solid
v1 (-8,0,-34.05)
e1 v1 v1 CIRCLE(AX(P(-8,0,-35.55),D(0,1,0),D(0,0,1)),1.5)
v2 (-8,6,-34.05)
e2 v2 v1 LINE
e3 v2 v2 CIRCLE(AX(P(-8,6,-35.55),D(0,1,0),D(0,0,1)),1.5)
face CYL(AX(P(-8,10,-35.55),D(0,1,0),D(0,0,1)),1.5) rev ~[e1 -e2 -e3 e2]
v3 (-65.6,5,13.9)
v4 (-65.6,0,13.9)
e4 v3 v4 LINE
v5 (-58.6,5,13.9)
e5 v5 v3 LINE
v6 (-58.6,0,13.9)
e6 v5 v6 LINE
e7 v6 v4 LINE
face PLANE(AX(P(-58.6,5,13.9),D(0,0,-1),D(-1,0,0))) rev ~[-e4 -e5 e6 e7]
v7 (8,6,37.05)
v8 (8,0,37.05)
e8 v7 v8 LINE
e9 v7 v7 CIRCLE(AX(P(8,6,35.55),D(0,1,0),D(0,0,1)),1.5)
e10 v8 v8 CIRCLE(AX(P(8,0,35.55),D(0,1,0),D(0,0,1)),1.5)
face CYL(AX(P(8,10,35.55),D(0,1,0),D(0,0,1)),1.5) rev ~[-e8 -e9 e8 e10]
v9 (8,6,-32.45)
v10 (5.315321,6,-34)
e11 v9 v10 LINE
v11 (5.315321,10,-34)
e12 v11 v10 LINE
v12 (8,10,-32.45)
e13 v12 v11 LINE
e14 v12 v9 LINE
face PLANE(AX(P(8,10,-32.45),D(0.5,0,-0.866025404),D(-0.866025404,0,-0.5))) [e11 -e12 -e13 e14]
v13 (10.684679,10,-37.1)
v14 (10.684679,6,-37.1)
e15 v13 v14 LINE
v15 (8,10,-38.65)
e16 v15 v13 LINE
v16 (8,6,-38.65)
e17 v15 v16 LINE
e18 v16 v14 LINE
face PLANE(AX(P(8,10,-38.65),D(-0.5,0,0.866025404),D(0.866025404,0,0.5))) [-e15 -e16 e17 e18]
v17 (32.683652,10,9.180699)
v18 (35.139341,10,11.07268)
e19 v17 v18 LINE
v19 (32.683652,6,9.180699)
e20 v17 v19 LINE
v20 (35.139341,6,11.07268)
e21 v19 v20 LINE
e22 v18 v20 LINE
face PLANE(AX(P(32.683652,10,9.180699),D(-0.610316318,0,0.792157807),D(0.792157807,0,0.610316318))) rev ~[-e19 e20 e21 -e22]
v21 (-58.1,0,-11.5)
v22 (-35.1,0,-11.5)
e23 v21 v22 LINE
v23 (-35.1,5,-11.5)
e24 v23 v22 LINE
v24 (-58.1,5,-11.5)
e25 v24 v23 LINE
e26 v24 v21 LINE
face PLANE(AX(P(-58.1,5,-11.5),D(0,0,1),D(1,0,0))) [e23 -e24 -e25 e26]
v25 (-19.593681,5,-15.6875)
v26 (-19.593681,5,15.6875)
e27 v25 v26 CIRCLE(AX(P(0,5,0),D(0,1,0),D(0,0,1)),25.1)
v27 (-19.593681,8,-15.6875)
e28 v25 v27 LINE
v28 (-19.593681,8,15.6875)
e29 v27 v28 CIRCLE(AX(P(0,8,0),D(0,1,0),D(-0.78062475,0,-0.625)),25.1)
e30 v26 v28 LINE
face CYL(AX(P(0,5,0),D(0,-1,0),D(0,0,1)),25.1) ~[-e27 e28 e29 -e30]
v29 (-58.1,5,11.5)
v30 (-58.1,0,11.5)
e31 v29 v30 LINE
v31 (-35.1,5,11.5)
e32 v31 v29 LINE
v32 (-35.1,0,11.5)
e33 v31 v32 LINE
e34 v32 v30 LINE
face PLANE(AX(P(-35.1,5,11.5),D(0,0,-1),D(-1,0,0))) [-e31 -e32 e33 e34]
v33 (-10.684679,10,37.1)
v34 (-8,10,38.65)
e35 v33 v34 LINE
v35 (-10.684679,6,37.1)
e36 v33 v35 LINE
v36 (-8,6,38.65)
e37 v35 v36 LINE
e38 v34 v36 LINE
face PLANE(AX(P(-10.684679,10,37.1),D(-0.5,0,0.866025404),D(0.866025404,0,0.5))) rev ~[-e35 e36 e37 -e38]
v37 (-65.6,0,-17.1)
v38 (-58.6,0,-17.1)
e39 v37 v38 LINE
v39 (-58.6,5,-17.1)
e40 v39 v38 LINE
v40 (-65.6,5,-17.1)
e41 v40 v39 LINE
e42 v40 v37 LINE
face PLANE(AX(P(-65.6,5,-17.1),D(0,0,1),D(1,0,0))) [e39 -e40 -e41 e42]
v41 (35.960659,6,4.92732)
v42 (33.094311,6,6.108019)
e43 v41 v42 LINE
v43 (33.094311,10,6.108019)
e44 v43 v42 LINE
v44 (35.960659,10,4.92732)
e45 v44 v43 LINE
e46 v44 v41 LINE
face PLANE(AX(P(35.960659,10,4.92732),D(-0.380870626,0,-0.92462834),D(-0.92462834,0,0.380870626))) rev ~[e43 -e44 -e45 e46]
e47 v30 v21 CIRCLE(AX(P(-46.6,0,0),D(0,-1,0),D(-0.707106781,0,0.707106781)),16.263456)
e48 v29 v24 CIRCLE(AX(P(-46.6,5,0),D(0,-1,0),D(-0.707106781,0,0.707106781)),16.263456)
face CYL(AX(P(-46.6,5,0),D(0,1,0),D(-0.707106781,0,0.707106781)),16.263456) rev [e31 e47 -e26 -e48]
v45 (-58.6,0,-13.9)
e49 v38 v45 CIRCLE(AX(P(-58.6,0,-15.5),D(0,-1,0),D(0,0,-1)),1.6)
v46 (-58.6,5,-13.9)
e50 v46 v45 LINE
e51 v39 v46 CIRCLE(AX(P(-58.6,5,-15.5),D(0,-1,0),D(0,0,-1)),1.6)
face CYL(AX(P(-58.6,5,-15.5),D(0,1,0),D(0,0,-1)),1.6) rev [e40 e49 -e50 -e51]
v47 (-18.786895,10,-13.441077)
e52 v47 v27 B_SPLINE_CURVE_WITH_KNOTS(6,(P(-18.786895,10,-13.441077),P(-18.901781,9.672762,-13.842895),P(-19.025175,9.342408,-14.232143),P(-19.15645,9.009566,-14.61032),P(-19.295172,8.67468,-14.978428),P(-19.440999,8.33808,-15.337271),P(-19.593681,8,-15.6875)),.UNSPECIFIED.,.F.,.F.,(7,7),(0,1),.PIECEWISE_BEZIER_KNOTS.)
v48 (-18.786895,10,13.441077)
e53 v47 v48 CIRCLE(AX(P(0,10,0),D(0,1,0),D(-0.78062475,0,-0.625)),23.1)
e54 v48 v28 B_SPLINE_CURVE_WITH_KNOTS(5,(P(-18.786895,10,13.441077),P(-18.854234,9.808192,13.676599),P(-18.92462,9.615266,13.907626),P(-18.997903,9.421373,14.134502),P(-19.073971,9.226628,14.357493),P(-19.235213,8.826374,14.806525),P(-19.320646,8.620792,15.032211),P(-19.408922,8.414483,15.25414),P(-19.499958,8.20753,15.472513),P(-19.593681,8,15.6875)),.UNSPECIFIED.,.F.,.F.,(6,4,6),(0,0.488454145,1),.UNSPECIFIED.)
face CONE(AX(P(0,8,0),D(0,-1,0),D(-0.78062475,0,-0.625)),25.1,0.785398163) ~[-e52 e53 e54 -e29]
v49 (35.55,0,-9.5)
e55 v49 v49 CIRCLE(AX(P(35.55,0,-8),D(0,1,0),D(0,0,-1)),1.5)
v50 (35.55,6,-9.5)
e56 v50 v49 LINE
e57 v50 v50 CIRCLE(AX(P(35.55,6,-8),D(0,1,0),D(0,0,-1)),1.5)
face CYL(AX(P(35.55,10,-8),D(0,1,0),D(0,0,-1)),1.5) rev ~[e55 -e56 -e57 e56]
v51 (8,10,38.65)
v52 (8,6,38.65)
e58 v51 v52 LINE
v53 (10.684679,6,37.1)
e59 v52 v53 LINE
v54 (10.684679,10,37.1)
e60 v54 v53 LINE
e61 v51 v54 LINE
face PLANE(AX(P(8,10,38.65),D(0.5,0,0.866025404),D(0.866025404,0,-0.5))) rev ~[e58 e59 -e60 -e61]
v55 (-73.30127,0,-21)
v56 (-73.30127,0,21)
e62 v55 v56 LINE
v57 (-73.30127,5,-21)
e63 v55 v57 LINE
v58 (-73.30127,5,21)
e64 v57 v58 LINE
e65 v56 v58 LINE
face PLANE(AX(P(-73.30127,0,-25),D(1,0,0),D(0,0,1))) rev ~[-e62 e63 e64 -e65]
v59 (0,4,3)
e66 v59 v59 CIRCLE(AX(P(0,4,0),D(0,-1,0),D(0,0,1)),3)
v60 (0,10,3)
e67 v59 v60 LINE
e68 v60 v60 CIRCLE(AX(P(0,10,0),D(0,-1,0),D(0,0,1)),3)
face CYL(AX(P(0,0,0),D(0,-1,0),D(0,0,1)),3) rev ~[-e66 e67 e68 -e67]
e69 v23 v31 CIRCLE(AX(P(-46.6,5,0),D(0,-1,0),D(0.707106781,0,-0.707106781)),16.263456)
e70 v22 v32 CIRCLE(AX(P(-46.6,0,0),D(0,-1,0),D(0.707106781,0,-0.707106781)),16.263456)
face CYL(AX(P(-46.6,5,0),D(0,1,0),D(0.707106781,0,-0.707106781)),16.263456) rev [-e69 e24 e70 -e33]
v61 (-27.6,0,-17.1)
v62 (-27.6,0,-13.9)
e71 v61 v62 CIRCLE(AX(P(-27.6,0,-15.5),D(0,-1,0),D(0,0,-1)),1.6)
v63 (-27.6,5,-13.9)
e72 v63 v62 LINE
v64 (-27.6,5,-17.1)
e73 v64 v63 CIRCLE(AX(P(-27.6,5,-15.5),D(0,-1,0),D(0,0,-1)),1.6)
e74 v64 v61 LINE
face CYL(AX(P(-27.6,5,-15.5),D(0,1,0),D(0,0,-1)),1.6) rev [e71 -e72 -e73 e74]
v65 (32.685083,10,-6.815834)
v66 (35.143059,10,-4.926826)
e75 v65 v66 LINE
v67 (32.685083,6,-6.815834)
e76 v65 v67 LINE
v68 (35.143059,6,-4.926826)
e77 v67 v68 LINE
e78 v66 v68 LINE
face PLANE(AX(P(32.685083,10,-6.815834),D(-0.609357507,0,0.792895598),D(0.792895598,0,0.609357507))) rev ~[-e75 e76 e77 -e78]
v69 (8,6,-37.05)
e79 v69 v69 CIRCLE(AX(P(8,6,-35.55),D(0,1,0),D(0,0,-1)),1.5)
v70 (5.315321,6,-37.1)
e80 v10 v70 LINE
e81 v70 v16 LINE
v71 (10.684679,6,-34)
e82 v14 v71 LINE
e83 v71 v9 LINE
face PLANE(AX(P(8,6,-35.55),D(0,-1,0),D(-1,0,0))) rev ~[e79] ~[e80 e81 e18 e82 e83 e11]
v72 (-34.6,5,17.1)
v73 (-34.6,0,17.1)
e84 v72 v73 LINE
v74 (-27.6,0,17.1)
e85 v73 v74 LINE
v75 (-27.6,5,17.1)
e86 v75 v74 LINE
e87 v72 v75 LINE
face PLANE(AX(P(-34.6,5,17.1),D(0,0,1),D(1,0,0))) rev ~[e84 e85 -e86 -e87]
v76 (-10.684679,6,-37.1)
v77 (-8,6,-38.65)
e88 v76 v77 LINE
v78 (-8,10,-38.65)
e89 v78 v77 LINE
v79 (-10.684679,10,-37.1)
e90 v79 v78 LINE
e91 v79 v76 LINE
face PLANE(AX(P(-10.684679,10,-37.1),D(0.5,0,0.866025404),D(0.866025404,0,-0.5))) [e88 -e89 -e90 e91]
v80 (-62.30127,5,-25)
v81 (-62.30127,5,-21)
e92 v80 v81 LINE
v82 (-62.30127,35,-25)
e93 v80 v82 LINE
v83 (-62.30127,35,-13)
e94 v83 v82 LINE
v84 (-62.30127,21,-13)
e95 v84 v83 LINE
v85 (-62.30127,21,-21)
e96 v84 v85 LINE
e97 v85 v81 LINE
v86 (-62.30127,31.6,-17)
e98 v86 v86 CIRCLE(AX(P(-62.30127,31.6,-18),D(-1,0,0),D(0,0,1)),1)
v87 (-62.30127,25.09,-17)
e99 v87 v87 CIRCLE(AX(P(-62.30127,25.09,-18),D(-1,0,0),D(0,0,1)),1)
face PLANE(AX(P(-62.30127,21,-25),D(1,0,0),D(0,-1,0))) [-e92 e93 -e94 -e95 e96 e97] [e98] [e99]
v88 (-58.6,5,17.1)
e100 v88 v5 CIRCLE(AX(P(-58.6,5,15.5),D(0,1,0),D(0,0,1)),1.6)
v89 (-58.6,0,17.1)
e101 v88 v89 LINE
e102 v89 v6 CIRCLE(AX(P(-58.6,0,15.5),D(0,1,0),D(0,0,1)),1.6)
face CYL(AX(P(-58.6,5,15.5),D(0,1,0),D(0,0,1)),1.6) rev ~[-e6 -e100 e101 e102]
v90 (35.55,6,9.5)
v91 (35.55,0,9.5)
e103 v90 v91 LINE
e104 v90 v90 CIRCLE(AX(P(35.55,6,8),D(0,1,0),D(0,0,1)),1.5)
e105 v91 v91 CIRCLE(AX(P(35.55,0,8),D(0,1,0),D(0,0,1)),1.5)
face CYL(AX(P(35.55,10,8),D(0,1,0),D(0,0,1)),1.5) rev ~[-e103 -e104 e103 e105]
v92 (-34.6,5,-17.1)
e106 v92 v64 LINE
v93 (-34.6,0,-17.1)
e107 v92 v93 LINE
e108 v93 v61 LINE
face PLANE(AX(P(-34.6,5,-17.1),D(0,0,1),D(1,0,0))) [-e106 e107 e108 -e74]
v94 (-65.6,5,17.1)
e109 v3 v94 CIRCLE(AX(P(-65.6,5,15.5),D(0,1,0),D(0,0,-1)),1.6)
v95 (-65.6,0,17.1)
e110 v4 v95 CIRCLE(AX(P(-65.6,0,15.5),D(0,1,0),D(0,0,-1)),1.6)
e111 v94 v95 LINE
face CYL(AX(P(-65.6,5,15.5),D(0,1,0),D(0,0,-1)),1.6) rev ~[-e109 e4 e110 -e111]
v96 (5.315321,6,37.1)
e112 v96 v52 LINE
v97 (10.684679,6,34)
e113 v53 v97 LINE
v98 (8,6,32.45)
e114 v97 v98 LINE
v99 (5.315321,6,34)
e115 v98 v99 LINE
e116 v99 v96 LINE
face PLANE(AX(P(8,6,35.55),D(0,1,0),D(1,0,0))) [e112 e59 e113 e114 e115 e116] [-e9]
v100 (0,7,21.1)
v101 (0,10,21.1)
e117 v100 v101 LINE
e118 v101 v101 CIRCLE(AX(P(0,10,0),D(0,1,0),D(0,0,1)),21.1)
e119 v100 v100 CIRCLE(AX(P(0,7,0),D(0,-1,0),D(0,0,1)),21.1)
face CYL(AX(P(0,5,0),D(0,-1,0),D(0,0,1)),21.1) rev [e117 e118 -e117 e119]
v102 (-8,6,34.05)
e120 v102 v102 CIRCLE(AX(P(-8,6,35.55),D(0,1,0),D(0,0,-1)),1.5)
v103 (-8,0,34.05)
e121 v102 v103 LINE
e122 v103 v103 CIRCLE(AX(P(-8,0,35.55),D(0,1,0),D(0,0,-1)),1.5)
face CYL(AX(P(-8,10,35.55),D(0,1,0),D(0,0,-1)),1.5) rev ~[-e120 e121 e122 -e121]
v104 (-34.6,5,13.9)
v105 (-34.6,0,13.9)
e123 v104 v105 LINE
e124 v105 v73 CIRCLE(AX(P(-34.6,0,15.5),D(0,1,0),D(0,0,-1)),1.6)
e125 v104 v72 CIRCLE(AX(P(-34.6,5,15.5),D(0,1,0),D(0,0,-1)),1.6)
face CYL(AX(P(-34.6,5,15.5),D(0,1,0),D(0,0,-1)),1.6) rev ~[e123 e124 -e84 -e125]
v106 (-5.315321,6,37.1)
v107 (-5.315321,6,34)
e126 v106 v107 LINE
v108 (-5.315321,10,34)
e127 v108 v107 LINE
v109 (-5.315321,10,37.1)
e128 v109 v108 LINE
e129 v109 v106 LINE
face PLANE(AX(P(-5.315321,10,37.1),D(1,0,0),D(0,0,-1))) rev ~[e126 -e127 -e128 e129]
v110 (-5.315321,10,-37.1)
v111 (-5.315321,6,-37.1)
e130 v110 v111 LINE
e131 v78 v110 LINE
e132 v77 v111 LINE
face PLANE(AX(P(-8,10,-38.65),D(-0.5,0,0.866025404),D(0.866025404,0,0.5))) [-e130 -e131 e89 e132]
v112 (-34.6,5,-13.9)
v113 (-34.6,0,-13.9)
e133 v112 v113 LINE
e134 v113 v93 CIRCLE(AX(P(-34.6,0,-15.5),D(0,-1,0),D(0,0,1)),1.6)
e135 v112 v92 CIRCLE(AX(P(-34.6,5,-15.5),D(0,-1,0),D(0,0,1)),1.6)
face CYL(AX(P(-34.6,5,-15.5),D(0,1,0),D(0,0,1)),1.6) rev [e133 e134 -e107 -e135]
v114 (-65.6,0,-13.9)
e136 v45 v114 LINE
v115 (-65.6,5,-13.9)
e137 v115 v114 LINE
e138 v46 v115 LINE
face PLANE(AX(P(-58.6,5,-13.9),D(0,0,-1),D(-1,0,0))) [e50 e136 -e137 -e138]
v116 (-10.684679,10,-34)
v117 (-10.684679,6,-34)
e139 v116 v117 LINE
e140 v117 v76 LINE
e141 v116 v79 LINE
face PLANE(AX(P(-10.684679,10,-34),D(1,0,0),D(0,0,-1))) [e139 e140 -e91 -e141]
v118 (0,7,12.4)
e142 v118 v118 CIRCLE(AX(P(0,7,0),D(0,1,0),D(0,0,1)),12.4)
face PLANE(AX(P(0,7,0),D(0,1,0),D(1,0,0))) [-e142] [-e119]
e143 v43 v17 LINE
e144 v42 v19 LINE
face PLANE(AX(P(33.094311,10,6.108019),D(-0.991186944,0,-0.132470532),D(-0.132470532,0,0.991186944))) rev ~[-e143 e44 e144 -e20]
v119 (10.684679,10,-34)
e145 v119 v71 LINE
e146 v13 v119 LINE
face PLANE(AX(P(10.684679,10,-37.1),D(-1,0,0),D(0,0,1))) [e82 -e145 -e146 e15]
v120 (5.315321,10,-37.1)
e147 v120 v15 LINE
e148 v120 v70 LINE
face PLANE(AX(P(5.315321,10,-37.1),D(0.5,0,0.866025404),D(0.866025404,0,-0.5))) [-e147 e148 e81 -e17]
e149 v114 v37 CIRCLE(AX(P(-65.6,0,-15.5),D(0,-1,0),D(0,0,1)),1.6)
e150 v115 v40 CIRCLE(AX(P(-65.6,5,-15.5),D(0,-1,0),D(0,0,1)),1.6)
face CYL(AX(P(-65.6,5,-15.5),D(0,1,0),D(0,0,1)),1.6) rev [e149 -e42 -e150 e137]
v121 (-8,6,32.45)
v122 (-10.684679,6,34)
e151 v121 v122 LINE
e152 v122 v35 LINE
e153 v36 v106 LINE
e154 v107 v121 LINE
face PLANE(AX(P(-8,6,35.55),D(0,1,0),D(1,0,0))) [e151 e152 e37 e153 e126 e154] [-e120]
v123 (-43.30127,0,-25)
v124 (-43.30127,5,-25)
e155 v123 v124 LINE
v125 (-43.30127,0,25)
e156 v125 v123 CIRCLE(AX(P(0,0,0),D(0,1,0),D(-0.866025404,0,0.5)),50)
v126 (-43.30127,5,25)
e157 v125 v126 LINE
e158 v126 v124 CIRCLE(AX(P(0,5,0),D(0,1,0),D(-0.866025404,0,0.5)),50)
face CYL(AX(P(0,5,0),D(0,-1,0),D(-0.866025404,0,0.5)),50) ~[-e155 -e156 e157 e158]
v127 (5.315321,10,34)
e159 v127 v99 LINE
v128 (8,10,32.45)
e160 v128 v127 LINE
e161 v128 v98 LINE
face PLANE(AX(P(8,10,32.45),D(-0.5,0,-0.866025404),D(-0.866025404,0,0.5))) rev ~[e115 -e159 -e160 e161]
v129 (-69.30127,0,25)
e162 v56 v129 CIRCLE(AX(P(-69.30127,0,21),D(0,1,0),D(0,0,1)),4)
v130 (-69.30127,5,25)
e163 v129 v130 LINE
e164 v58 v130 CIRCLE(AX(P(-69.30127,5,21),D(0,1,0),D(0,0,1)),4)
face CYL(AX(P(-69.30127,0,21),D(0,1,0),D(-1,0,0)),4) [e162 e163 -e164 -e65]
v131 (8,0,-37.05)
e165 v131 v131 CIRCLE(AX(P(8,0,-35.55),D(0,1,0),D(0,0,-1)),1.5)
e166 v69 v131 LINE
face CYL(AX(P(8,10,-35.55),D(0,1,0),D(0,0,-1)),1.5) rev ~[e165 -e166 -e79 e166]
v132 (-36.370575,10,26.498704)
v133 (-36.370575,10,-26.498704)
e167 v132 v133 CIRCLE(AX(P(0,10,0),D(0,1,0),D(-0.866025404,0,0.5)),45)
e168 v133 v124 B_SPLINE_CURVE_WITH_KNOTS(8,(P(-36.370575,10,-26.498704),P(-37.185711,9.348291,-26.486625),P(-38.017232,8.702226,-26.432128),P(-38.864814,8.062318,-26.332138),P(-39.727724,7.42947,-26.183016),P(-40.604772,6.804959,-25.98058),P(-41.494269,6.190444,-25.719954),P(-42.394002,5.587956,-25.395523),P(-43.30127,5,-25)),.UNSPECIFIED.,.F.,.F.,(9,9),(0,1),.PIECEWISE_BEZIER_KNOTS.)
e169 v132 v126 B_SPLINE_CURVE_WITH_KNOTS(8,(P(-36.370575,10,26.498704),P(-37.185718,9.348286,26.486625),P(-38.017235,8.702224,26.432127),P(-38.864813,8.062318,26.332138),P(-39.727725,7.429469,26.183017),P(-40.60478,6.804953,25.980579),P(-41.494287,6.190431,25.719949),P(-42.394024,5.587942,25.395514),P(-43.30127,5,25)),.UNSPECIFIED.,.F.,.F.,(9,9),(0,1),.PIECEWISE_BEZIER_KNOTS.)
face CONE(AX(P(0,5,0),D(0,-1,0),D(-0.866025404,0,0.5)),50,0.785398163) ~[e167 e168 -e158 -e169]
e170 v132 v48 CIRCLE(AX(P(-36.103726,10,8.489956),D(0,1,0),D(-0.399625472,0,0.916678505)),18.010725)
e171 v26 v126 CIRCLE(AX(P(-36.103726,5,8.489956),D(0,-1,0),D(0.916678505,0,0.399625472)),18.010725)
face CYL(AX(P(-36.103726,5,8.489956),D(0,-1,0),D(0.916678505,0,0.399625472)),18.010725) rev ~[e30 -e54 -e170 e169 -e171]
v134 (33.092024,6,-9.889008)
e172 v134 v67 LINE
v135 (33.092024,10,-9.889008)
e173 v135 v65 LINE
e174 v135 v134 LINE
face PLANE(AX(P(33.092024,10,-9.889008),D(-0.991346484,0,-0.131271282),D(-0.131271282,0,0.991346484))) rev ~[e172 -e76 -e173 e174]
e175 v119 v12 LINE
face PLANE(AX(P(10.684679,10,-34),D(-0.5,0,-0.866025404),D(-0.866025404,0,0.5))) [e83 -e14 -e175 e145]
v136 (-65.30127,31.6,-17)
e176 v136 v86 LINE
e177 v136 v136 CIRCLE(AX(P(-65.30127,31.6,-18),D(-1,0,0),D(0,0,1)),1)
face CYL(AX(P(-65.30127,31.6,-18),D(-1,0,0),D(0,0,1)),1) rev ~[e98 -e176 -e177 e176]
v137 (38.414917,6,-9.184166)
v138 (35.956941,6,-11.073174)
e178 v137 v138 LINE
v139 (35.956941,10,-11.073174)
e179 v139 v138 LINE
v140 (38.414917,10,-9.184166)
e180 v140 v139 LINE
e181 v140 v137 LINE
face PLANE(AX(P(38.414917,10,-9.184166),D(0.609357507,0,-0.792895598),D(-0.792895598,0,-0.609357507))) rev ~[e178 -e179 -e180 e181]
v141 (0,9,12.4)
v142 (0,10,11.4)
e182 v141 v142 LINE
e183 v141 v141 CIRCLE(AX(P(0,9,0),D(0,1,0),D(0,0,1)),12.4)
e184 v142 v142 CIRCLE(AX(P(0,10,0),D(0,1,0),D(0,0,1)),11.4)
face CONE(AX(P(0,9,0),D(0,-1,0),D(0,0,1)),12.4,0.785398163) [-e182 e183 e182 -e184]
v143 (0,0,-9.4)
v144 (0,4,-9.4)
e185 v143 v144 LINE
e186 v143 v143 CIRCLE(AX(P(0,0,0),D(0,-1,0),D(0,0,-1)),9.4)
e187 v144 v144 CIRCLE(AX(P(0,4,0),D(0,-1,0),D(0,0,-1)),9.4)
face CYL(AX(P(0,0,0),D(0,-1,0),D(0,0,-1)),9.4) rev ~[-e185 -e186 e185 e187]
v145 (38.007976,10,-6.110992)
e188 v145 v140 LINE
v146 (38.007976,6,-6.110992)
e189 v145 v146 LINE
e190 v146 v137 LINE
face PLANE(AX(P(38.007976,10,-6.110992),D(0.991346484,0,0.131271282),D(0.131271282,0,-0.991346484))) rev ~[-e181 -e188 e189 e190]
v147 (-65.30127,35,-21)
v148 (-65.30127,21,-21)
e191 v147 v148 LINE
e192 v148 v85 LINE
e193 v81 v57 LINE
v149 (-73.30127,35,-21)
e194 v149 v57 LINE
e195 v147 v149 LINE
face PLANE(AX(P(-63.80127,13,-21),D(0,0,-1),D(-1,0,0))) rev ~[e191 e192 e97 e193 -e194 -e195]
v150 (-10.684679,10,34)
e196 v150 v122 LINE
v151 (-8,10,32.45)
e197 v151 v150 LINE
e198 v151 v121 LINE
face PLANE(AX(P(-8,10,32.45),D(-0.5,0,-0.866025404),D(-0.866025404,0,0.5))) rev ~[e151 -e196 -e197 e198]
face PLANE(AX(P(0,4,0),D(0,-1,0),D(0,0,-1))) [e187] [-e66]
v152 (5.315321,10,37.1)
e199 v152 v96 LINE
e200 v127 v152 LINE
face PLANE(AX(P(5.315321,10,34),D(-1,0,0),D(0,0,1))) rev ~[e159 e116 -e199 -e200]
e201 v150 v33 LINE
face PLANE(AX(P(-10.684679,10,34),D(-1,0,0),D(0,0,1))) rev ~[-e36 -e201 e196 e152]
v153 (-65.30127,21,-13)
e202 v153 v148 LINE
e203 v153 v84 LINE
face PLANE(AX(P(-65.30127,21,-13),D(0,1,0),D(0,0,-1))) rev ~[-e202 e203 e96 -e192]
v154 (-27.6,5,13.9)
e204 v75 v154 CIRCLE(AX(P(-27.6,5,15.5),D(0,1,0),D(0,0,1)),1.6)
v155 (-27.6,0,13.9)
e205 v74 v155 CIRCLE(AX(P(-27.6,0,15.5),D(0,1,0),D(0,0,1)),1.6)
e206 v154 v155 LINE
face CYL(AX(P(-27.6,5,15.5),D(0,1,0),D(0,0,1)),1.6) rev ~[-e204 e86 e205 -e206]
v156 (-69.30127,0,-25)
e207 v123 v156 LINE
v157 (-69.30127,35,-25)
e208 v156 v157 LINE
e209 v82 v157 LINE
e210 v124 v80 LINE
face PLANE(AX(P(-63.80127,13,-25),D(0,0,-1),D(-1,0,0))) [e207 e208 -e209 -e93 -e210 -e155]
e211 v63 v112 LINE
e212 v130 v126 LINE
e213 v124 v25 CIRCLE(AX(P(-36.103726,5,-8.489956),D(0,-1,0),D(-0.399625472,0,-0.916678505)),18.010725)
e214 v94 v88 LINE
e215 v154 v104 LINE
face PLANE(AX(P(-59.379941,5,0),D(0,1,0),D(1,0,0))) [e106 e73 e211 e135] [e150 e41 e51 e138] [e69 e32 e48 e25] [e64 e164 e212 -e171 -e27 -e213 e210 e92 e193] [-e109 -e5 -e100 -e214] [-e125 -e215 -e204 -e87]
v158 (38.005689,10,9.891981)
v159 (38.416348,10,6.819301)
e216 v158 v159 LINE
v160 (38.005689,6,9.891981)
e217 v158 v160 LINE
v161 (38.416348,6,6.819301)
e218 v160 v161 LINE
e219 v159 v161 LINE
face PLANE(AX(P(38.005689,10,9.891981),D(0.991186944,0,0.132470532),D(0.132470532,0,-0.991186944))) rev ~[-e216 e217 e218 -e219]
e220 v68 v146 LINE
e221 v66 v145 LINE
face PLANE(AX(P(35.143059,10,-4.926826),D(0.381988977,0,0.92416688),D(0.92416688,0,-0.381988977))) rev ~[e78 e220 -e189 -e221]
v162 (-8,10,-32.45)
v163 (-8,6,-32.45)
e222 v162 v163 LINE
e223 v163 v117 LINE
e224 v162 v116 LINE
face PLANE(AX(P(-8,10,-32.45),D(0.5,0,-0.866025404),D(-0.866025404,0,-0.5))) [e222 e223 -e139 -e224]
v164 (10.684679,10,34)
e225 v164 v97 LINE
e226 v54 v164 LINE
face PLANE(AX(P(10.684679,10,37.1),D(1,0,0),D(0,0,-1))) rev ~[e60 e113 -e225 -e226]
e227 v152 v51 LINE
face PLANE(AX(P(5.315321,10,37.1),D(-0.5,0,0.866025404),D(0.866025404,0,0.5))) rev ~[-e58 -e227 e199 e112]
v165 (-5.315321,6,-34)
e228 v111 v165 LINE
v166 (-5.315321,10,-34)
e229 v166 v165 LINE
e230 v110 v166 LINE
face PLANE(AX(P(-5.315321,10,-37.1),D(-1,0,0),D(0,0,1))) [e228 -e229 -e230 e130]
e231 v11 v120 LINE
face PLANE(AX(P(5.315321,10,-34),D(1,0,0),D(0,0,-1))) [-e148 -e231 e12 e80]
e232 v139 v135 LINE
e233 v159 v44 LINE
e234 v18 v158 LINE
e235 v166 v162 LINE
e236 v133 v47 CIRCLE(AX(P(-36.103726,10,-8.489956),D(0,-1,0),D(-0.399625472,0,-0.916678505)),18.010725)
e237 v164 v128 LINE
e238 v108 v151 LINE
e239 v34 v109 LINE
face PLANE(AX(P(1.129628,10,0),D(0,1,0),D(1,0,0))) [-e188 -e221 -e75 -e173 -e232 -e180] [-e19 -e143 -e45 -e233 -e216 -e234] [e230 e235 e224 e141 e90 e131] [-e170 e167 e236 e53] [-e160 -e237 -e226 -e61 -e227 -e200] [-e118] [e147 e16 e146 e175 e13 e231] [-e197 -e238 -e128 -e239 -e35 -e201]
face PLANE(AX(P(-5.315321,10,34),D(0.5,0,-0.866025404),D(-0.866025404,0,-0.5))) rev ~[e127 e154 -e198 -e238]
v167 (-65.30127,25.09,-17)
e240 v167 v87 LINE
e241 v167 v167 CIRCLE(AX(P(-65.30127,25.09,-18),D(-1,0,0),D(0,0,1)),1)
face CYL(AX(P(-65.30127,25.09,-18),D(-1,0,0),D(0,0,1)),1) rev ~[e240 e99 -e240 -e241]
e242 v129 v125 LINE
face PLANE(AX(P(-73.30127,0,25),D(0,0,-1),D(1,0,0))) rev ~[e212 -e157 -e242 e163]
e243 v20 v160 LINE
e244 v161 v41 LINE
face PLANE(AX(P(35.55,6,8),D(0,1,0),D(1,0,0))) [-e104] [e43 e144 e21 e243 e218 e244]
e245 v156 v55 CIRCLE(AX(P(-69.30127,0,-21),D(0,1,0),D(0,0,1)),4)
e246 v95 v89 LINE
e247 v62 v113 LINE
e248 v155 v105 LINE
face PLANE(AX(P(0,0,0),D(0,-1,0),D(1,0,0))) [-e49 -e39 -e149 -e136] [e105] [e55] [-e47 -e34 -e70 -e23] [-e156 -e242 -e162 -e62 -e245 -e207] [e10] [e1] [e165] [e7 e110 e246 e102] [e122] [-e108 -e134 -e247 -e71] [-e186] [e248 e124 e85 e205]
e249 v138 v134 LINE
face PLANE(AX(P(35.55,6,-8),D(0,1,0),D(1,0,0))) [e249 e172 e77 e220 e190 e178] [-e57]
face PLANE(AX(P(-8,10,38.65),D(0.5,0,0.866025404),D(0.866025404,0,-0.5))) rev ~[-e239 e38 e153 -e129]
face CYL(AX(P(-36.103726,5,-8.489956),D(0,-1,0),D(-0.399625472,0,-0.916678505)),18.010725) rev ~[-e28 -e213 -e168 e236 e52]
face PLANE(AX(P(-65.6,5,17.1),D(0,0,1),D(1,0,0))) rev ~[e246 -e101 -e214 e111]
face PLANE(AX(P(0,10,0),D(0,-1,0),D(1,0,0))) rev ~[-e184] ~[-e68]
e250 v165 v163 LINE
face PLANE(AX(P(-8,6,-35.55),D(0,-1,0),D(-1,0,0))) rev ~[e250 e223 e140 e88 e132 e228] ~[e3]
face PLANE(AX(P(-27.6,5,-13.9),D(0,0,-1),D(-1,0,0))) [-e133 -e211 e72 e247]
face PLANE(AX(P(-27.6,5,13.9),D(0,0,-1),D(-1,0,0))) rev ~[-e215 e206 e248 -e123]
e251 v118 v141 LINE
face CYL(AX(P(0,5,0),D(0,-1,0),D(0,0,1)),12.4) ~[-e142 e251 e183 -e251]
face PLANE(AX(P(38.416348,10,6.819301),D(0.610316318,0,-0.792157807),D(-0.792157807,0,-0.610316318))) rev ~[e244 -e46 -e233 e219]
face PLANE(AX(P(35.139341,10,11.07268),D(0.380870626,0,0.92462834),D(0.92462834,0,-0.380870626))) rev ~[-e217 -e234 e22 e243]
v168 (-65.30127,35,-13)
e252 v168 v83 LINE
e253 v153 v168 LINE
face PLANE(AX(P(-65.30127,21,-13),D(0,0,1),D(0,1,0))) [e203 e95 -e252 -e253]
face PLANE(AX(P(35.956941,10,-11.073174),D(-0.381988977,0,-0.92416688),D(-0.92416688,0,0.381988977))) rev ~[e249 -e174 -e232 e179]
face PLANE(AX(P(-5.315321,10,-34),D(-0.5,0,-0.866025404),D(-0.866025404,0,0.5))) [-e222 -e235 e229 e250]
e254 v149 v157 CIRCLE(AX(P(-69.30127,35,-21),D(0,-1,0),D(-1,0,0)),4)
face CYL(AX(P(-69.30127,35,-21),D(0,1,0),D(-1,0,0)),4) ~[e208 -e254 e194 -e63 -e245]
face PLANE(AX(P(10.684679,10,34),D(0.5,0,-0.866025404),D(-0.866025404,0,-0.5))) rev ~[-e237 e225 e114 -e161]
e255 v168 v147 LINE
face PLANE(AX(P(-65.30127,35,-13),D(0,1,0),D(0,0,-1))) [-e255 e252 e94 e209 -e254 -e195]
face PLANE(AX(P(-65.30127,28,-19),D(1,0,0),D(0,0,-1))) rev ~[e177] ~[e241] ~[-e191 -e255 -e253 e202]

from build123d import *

# Parameters (mm, degrees)
SKETCH1_R            = 50
BOSS_EXTRUDE1_DEPTH  = 5
SKETCH2_R            = 25.1
SKETCH2_R_2          = 21.1
SKETCH2_R_3          = 12.4
SKETCH2_R_4          = 9.399999999999999
BOSS_EXTRUDE2_DEPTH  = 5
CHAMFER1_SIZE        = 1
CUT_EXTRUDE1_START   = -5
SKETCH3_R            = 9.399999999999997
CUT_EXTRUDE1_DEPTH   = 5
CUT_EXTRUDE2_DEPTH   = 5
BOSS_EXTRUDE3_DEPTH  = 5
SKETCH6_R            = 1.5000000000000009
SKETCH6_R_2          = 1.5000000000000018
SKETCH6_R_3          = 1.500000000000004
SKETCH6_R_4          = 1.5000000000000042
CUT_EXTRUDE3_DEPTH   = 10
CUT_EXTRUDE4_DEPTH   = 4
CHAMFER4_SIZE        = 2
SKETCH10_R           = 21.638560794932243
SKETCH10_R_2         = 12.399999999999999
BOSS_EXTRUDE4_DEPTH  = 2
CHAMFER5_SIZE        = 5
SKETCH14_R           = 9.399999999999995
SKETCH14_R_2         = 3
BOSS_EXTRUDE6_DEPTH  = 10
SKETCH16_R           = 9.4
CUT_EXTRUDE8_DEPTH   = 4
FILLET3_R            = 4
BOSS_EXTRUDE7_START  = 30
BOSS_EXTRUDE7_DEPTH  = 30
SKETCH22_W           = 12
SKETCH22_H           = 13.999999999999996
BOSS_EXTRUDE10_DEPTH = 3
SKETCH23_R           = 1.0000000000000018
CUT_EXTRUDE11_DEPTH  = 3
BOSS_EXTRUDE11_DEPTH = 4


with BuildPart() as part:
    # Sketch1 → Boss-Extrude1 (new body)
    with BuildSketch(Plane(origin=(0, 0, 0), x_dir=(1, 0, 0), z_dir=(0, 1, 0))):
        with BuildLine():
            ThreePointArc((-43.30127018922194, -24.999999999999986), (-50, 6.12e-15), (-43.30127018922194, 24.999999999999996))
            Line((-43.301270189221945, 24.99999999999999), (-73.30127018922194, 25.000000000000004))
            Line((-73.30127018922194, 25.000000000000004), (-73.30127018922195, -24.999999999999996))
            Line((-73.30127018922195, -24.999999999999996), (-43.30127018922194, -24.99999999999999))
        make_face()
        Circle(SKETCH1_R)
    extrude(amount=BOSS_EXTRUDE1_DEPTH)

    # Sketch2 → Boss-Extrude2 (add)
    # profile 1 of 2: a face of its own
    with BuildSketch(Plane(origin=(0, 5, 0), x_dir=(1, 0, 0), z_dir=(0, 1, 0))):
        with Locations(Location((0, 0, 0), (0, 0, 270))):
            Circle(SKETCH2_R)
        with Locations(Location((0, 0, 0), (0, 0, 270))):
            Circle(SKETCH2_R_2, mode=Mode.SUBTRACT)
    # profile 2 of 2: a face of its own
    with BuildSketch(Plane(origin=(0, 5, 0), x_dir=(1, 0, 0), z_dir=(0, 1, 0))):
        with Locations(Location((0, 0, 0), (0, 0, 270))):
            Circle(SKETCH2_R_3)
        with Locations(Location((0, 0, 0), (0, 0, 270))):
            Circle(SKETCH2_R_4, mode=Mode.SUBTRACT)
    extrude(amount=BOSS_EXTRUDE2_DEPTH)

    # Chamfer1
    chamfer1_edges = [part.edges().sort_by_distance(p)[0] for p in [
        (3.8e-15, 10, -12.4),
    ]]
    chamfer(chamfer1_edges, length=CHAMFER1_SIZE)

    # Sketch3 → Cut-Extrude1 (cut)
    with BuildSketch(Plane(origin=(0, 5, 0), x_dir=(1, 0, 0), z_dir=(0, 1, 0)).offset(CUT_EXTRUDE1_START)):
        with Locations(Location((0, 0, 0), (0, 0, 270))):
            Circle(SKETCH3_R)
    extrude(amount=CUT_EXTRUDE1_DEPTH, mode=Mode.SUBTRACT)

    # Sketch4 → Cut-Extrude2 (cut)
    with BuildSketch(Plane(origin=(0, 5, 0), x_dir=(1, 0, 0), z_dir=(0, 1, 0))):
        with BuildLine():
            Line((-65.60000000000008, 17.09999999999999), (-58.60000000000002, 17.099999999999994))
            ThreePointArc((-58.60000000000002, 17.099999999999994), (-57.000000000000014, 15.499999999999982), (-58.60000000000005, 13.899999999999999))
            Line((-58.60000000000005, 13.899999999999999), (-65.60000000000005, 13.899999999999995))
            ThreePointArc((-65.60000000000005, 13.899999999999995), (-67.20000000000007, 15.49999999999998), (-65.60000000000008, 17.09999999999999))
        make_face()
        with BuildLine():
            Line((-34.600000000000044, 17.099999999999998), (-27.599999999999948, 17.099999999999998))
            ThreePointArc((-27.599999999999948, 17.099999999999998), (-25.999999999999968, 15.499999999999998), (-27.59999999999995, 13.899999999999999))
            Line((-27.59999999999995, 13.899999999999999), (-34.600000000000044, 13.899999999999999))
            ThreePointArc((-34.600000000000044, 13.899999999999999), (-36.20000000000004, 15.499999999999998), (-34.600000000000044, 17.099999999999998))
        make_face()
        with BuildLine():
            Line((-34.600000000000044, -17.1), (-27.599999999999945, -17.099999999999998))
            ThreePointArc((-27.599999999999945, -17.099999999999998), (-25.999999999999964, -15.5), (-27.599999999999945, -13.899999999999997))
            Line((-27.599999999999945, -13.899999999999997), (-34.600000000000044, -13.899999999999999))
            ThreePointArc((-34.600000000000044, -13.899999999999999), (-36.20000000000003, -15.500000000000002), (-34.600000000000044, -17.1))
        make_face()
        with BuildLine():
            Line((-65.60000000000005, -17.1), (-58.600000000000016, -17.1))
            ThreePointArc((-58.600000000000016, -17.1), (-56.999999999999986, -15.500000000000005), (-58.600000000000016, -13.900000000000006))
            Line((-58.600000000000016, -13.900000000000006), (-65.60000000000005, -13.900000000000006))
            ThreePointArc((-65.60000000000005, -13.900000000000006), (-67.20000000000007, -15.500000000000005), (-65.60000000000005, -17.1))
        make_face()
        with BuildLine():
            Line((-58.10000000000014, 11.500000000000004), (-35.10000000000015, 11.500000000000004))
            ThreePointArc((-35.10000000000015, 11.500000000000004), (-30.336544032709547, -8.3e-16), (-35.10000000000015, -11.500000000000004))
            Line((-35.10000000000015, -11.500000000000004), (-58.10000000000014, -11.50000000000001))
            ThreePointArc((-58.10000000000014, -11.50000000000001), (-62.863455967290705, -6.4e-16), (-58.10000000000014, 11.500000000000004))
        make_face()
    extrude(amount=-CUT_EXTRUDE2_DEPTH, mode=Mode.SUBTRACT)

    # Sketch5 → Boss-Extrude3 (add)
    with BuildSketch(Plane(origin=(0, 5, 0), x_dir=(1, 0, 0), z_dir=(0, 1, 0))):
        with BuildLine():
            ThreePointArc((-43.30127018922194, -24.99999999999999), (50, 2.22e-14), (-43.301270189221945, 24.99999999999998))
            ThreePointArc((-43.301270189221945, 24.99999999999998), (-29.51879380479877, 25.25375244111435), (-19.593681219974982, 15.68749999999999))
            ThreePointArc((-19.593681219974982, 15.68749999999999), (25.099999999999998, 0), (-19.593681219974982, -15.68749999999999))
            ThreePointArc((-19.593681219974982, -15.68749999999999), (-29.518793804798747, -25.253752441114404), (-43.30127018922194, -24.99999999999999))
        make_face()
    extrude(amount=BOSS_EXTRUDE3_DEPTH)

    # Sketch6 → Cut-Extrude3 (cut)
    with BuildSketch(Plane(origin=(0, 10, 0), x_dir=(1, 0, 0), z_dir=(0, 1, 0))):
        with Locations(Location((8.000000000000004, -35.55, 0), (0, 0, 270))):
            Circle(SKETCH6_R)
        with Locations(Location((-8, -35.55, 0), (0, 0, 90))):
            Circle(SKETCH6_R_2)
        with Locations(Location((8.000000000000004, 35.55, 0), (0, 0, 90))):
            Circle(SKETCH6_R)
        with Locations(Location((-8, 35.55, 0), (0, 0, 270))):
            Circle(SKETCH6_R_2)
        with Locations(Location((35.55, -8, 0), (0, 0, 270))):
            Circle(SKETCH6_R_3)
        with Locations(Location((35.55, 8, 0), (0, 0, 90))):
            Circle(SKETCH6_R_4)
    extrude(amount=-CUT_EXTRUDE3_DEPTH, mode=Mode.SUBTRACT)

    # Sketch7 → Cut-Extrude4 (cut)
    with BuildSketch(Plane(origin=(0, 10, 0), x_dir=(1, 0, 0), z_dir=(0, 1, 0))):
        Polygon((-7.9999999999999964, -38.650000000000006), (-5.315321248268234, -37.1), (-5.315321248268235, -34), (-7.9999999999999964, -32.45000000000001), (-10.684678751731763, -34.00000000000001), (-10.684678751731763, -37.1), align=None)
        Polygon((8.000000000000005, -38.650000000000006), (10.684678751731774, -37.099999999999994), (10.684678751731772, -33.999999999999986), (8.00000000000001, -32.449999999999996), (5.315321248268237, -34), (5.315321248268238, -37.099999999999994), align=None)
        Polygon((5.315321248268238, 37.099999999999994), (8.000000000000005, 38.650000000000006), (10.684678751731774, 37.099999999999994), (10.684678751731772, 33.999999999999986), (8.00000000000001, 32.449999999999996), (5.315321248268237, 34), align=None)
        Polygon((-10.684678751731763, 37.1), (-7.9999999999999964, 38.650000000000006), (-5.315321248268234, 37.1), (-5.315321248268235, 34), (-7.9999999999999964, 32.45000000000001), (-10.684678751731763, 34.00000000000001), align=None)
        Polygon((32.68508267298749, 6.815834171501503), (35.1430590262669, 4.926825900815709), (38.00797635327939, 6.110991729314209), (38.4149173270125, 9.184165828498493), (35.956940973733104, 11.073174099184284), (33.0920236467206, 9.88900827068578), align=None)
        Polygon((32.68365214703024, -9.180698939516597), (35.13934134935783, -11.072679526513099), (38.005689202327595, -9.891980586996501), (38.416347852969764, -6.819301060483406), (35.96065865064216, -4.927320473486905), (33.0943107976724, -6.108019413003499), align=None)
    extrude(amount=-CUT_EXTRUDE4_DEPTH, mode=Mode.SUBTRACT)

    # Chamfer4
    chamfer4_edges = [part.edges().sort_by_distance(p)[0] for p in [
        (-25.1, 10, -9.22e-15),
    ]]
    chamfer(chamfer4_edges, length=CHAMFER4_SIZE)

    # Sketch10 → Boss-Extrude4 (add)
    with BuildSketch(Plane(origin=(0, 5, 0), x_dir=(1, 0, 0), z_dir=(0, 1, 0))):
        Circle(SKETCH10_R)
        with Locations(Location((0, 0, 0), (0, 0, 270))):
            Circle(SKETCH10_R_2, mode=Mode.SUBTRACT)
    extrude(amount=BOSS_EXTRUDE4_DEPTH)

    # Chamfer5
    chamfer5_edges = [part.edges().sort_by_distance(p)[0] for p in [
        (50.00000000000001, 10, -2.487e-14),
    ]]
    chamfer(chamfer5_edges, length=CHAMFER5_SIZE)

    # Sketch14 → Boss-Extrude6 (add)
    with BuildSketch(Plane.XZ):
        Circle(SKETCH14_R)
        with Locations(Location((0, 0, 0), (0, 0, 90))):
            Circle(SKETCH14_R_2, mode=Mode.SUBTRACT)
    extrude(amount=-BOSS_EXTRUDE6_DEPTH)

    # Sketch16 → Cut-Extrude8 (cut)
    with BuildSketch(Plane.XZ):
        with Locations(Location((0, 0, 0), (0, 0, 270))):
            Circle(SKETCH16_R)
    extrude(amount=-CUT_EXTRUDE8_DEPTH, mode=Mode.SUBTRACT)

    # Fillet3
    fillet3_edges = [part.edges().sort_by_distance(p)[0] for p in [
        (-73.30127018922195, 2.5, 24.999999999999996),
        (-73.30127018922194, 2.5, -25.000000000000004),
    ]]
    fillet(fillet3_edges, radius=FILLET3_R)

    # Sketch17 → Boss-Extrude7 (add)
    with BuildSketch(Plane(origin=(0, 5, 0), x_dir=(1, 0, 0), z_dir=(0, 1, 0)).offset(BOSS_EXTRUDE7_START)):
        with BuildLine():
            Line((-65.30127018922194, 24.999999999999968), (-65.30127018922194, 21.000000000000004))
            Line((-65.30127018922194, 21.000000000000004), (-73.30127018922195, 21))
            ThreePointArc((-73.30127018922195, 21), (-72.12969731396817, 23.82842712474621), (-69.30127018922194, 24.999999999999968))
            Line((-69.30127018922194, 24.999999999999968), (-65.30127018922194, 24.999999999999968))
        make_face()
    extrude(amount=-BOSS_EXTRUDE7_DEPTH)

    # Sketch22 → Boss-Extrude10 (add)
    with BuildSketch(Plane(origin=(-65.30127018922194, 0, 0), x_dir=(0, 0, -1), z_dir=(1, 0, 0))):
        with Locations((18.999999999999964, 27.999999999999993)):
            Rectangle(SKETCH22_W, SKETCH22_H)
    extrude(amount=BOSS_EXTRUDE10_DEPTH)

    # Sketch23 → Cut-Extrude11 (cut)
    with BuildSketch(Plane.ZY.offset(65.30127018922194)):
        with Locations((-17.999999999999968, 31.599999999999998)):
            Circle(SKETCH23_R)
        with Locations((-17.999999999999968, 25.089999999999993)):
            Circle(SKETCH23_R)
    extrude(amount=-CUT_EXTRUDE11_DEPTH, mode=Mode.SUBTRACT)

    # Sketch24 → Boss-Extrude11 (add)
    with BuildSketch(Plane(origin=(1.156e-14, 0, -24.99999999999997), x_dir=(-1, 0, -4.6e-16), z_dir=(4.6e-16, 0, -1))):
        Polygon((62.30127018922195, 20.999999999999996), (62.30127018922195, 5.000000000000001), (65.30127018922195, 5), (65.30127018922195, 20.999999999999996), align=None)
    extrude(amount=-BOSS_EXTRUDE11_DEPTH)


solid = part.part
